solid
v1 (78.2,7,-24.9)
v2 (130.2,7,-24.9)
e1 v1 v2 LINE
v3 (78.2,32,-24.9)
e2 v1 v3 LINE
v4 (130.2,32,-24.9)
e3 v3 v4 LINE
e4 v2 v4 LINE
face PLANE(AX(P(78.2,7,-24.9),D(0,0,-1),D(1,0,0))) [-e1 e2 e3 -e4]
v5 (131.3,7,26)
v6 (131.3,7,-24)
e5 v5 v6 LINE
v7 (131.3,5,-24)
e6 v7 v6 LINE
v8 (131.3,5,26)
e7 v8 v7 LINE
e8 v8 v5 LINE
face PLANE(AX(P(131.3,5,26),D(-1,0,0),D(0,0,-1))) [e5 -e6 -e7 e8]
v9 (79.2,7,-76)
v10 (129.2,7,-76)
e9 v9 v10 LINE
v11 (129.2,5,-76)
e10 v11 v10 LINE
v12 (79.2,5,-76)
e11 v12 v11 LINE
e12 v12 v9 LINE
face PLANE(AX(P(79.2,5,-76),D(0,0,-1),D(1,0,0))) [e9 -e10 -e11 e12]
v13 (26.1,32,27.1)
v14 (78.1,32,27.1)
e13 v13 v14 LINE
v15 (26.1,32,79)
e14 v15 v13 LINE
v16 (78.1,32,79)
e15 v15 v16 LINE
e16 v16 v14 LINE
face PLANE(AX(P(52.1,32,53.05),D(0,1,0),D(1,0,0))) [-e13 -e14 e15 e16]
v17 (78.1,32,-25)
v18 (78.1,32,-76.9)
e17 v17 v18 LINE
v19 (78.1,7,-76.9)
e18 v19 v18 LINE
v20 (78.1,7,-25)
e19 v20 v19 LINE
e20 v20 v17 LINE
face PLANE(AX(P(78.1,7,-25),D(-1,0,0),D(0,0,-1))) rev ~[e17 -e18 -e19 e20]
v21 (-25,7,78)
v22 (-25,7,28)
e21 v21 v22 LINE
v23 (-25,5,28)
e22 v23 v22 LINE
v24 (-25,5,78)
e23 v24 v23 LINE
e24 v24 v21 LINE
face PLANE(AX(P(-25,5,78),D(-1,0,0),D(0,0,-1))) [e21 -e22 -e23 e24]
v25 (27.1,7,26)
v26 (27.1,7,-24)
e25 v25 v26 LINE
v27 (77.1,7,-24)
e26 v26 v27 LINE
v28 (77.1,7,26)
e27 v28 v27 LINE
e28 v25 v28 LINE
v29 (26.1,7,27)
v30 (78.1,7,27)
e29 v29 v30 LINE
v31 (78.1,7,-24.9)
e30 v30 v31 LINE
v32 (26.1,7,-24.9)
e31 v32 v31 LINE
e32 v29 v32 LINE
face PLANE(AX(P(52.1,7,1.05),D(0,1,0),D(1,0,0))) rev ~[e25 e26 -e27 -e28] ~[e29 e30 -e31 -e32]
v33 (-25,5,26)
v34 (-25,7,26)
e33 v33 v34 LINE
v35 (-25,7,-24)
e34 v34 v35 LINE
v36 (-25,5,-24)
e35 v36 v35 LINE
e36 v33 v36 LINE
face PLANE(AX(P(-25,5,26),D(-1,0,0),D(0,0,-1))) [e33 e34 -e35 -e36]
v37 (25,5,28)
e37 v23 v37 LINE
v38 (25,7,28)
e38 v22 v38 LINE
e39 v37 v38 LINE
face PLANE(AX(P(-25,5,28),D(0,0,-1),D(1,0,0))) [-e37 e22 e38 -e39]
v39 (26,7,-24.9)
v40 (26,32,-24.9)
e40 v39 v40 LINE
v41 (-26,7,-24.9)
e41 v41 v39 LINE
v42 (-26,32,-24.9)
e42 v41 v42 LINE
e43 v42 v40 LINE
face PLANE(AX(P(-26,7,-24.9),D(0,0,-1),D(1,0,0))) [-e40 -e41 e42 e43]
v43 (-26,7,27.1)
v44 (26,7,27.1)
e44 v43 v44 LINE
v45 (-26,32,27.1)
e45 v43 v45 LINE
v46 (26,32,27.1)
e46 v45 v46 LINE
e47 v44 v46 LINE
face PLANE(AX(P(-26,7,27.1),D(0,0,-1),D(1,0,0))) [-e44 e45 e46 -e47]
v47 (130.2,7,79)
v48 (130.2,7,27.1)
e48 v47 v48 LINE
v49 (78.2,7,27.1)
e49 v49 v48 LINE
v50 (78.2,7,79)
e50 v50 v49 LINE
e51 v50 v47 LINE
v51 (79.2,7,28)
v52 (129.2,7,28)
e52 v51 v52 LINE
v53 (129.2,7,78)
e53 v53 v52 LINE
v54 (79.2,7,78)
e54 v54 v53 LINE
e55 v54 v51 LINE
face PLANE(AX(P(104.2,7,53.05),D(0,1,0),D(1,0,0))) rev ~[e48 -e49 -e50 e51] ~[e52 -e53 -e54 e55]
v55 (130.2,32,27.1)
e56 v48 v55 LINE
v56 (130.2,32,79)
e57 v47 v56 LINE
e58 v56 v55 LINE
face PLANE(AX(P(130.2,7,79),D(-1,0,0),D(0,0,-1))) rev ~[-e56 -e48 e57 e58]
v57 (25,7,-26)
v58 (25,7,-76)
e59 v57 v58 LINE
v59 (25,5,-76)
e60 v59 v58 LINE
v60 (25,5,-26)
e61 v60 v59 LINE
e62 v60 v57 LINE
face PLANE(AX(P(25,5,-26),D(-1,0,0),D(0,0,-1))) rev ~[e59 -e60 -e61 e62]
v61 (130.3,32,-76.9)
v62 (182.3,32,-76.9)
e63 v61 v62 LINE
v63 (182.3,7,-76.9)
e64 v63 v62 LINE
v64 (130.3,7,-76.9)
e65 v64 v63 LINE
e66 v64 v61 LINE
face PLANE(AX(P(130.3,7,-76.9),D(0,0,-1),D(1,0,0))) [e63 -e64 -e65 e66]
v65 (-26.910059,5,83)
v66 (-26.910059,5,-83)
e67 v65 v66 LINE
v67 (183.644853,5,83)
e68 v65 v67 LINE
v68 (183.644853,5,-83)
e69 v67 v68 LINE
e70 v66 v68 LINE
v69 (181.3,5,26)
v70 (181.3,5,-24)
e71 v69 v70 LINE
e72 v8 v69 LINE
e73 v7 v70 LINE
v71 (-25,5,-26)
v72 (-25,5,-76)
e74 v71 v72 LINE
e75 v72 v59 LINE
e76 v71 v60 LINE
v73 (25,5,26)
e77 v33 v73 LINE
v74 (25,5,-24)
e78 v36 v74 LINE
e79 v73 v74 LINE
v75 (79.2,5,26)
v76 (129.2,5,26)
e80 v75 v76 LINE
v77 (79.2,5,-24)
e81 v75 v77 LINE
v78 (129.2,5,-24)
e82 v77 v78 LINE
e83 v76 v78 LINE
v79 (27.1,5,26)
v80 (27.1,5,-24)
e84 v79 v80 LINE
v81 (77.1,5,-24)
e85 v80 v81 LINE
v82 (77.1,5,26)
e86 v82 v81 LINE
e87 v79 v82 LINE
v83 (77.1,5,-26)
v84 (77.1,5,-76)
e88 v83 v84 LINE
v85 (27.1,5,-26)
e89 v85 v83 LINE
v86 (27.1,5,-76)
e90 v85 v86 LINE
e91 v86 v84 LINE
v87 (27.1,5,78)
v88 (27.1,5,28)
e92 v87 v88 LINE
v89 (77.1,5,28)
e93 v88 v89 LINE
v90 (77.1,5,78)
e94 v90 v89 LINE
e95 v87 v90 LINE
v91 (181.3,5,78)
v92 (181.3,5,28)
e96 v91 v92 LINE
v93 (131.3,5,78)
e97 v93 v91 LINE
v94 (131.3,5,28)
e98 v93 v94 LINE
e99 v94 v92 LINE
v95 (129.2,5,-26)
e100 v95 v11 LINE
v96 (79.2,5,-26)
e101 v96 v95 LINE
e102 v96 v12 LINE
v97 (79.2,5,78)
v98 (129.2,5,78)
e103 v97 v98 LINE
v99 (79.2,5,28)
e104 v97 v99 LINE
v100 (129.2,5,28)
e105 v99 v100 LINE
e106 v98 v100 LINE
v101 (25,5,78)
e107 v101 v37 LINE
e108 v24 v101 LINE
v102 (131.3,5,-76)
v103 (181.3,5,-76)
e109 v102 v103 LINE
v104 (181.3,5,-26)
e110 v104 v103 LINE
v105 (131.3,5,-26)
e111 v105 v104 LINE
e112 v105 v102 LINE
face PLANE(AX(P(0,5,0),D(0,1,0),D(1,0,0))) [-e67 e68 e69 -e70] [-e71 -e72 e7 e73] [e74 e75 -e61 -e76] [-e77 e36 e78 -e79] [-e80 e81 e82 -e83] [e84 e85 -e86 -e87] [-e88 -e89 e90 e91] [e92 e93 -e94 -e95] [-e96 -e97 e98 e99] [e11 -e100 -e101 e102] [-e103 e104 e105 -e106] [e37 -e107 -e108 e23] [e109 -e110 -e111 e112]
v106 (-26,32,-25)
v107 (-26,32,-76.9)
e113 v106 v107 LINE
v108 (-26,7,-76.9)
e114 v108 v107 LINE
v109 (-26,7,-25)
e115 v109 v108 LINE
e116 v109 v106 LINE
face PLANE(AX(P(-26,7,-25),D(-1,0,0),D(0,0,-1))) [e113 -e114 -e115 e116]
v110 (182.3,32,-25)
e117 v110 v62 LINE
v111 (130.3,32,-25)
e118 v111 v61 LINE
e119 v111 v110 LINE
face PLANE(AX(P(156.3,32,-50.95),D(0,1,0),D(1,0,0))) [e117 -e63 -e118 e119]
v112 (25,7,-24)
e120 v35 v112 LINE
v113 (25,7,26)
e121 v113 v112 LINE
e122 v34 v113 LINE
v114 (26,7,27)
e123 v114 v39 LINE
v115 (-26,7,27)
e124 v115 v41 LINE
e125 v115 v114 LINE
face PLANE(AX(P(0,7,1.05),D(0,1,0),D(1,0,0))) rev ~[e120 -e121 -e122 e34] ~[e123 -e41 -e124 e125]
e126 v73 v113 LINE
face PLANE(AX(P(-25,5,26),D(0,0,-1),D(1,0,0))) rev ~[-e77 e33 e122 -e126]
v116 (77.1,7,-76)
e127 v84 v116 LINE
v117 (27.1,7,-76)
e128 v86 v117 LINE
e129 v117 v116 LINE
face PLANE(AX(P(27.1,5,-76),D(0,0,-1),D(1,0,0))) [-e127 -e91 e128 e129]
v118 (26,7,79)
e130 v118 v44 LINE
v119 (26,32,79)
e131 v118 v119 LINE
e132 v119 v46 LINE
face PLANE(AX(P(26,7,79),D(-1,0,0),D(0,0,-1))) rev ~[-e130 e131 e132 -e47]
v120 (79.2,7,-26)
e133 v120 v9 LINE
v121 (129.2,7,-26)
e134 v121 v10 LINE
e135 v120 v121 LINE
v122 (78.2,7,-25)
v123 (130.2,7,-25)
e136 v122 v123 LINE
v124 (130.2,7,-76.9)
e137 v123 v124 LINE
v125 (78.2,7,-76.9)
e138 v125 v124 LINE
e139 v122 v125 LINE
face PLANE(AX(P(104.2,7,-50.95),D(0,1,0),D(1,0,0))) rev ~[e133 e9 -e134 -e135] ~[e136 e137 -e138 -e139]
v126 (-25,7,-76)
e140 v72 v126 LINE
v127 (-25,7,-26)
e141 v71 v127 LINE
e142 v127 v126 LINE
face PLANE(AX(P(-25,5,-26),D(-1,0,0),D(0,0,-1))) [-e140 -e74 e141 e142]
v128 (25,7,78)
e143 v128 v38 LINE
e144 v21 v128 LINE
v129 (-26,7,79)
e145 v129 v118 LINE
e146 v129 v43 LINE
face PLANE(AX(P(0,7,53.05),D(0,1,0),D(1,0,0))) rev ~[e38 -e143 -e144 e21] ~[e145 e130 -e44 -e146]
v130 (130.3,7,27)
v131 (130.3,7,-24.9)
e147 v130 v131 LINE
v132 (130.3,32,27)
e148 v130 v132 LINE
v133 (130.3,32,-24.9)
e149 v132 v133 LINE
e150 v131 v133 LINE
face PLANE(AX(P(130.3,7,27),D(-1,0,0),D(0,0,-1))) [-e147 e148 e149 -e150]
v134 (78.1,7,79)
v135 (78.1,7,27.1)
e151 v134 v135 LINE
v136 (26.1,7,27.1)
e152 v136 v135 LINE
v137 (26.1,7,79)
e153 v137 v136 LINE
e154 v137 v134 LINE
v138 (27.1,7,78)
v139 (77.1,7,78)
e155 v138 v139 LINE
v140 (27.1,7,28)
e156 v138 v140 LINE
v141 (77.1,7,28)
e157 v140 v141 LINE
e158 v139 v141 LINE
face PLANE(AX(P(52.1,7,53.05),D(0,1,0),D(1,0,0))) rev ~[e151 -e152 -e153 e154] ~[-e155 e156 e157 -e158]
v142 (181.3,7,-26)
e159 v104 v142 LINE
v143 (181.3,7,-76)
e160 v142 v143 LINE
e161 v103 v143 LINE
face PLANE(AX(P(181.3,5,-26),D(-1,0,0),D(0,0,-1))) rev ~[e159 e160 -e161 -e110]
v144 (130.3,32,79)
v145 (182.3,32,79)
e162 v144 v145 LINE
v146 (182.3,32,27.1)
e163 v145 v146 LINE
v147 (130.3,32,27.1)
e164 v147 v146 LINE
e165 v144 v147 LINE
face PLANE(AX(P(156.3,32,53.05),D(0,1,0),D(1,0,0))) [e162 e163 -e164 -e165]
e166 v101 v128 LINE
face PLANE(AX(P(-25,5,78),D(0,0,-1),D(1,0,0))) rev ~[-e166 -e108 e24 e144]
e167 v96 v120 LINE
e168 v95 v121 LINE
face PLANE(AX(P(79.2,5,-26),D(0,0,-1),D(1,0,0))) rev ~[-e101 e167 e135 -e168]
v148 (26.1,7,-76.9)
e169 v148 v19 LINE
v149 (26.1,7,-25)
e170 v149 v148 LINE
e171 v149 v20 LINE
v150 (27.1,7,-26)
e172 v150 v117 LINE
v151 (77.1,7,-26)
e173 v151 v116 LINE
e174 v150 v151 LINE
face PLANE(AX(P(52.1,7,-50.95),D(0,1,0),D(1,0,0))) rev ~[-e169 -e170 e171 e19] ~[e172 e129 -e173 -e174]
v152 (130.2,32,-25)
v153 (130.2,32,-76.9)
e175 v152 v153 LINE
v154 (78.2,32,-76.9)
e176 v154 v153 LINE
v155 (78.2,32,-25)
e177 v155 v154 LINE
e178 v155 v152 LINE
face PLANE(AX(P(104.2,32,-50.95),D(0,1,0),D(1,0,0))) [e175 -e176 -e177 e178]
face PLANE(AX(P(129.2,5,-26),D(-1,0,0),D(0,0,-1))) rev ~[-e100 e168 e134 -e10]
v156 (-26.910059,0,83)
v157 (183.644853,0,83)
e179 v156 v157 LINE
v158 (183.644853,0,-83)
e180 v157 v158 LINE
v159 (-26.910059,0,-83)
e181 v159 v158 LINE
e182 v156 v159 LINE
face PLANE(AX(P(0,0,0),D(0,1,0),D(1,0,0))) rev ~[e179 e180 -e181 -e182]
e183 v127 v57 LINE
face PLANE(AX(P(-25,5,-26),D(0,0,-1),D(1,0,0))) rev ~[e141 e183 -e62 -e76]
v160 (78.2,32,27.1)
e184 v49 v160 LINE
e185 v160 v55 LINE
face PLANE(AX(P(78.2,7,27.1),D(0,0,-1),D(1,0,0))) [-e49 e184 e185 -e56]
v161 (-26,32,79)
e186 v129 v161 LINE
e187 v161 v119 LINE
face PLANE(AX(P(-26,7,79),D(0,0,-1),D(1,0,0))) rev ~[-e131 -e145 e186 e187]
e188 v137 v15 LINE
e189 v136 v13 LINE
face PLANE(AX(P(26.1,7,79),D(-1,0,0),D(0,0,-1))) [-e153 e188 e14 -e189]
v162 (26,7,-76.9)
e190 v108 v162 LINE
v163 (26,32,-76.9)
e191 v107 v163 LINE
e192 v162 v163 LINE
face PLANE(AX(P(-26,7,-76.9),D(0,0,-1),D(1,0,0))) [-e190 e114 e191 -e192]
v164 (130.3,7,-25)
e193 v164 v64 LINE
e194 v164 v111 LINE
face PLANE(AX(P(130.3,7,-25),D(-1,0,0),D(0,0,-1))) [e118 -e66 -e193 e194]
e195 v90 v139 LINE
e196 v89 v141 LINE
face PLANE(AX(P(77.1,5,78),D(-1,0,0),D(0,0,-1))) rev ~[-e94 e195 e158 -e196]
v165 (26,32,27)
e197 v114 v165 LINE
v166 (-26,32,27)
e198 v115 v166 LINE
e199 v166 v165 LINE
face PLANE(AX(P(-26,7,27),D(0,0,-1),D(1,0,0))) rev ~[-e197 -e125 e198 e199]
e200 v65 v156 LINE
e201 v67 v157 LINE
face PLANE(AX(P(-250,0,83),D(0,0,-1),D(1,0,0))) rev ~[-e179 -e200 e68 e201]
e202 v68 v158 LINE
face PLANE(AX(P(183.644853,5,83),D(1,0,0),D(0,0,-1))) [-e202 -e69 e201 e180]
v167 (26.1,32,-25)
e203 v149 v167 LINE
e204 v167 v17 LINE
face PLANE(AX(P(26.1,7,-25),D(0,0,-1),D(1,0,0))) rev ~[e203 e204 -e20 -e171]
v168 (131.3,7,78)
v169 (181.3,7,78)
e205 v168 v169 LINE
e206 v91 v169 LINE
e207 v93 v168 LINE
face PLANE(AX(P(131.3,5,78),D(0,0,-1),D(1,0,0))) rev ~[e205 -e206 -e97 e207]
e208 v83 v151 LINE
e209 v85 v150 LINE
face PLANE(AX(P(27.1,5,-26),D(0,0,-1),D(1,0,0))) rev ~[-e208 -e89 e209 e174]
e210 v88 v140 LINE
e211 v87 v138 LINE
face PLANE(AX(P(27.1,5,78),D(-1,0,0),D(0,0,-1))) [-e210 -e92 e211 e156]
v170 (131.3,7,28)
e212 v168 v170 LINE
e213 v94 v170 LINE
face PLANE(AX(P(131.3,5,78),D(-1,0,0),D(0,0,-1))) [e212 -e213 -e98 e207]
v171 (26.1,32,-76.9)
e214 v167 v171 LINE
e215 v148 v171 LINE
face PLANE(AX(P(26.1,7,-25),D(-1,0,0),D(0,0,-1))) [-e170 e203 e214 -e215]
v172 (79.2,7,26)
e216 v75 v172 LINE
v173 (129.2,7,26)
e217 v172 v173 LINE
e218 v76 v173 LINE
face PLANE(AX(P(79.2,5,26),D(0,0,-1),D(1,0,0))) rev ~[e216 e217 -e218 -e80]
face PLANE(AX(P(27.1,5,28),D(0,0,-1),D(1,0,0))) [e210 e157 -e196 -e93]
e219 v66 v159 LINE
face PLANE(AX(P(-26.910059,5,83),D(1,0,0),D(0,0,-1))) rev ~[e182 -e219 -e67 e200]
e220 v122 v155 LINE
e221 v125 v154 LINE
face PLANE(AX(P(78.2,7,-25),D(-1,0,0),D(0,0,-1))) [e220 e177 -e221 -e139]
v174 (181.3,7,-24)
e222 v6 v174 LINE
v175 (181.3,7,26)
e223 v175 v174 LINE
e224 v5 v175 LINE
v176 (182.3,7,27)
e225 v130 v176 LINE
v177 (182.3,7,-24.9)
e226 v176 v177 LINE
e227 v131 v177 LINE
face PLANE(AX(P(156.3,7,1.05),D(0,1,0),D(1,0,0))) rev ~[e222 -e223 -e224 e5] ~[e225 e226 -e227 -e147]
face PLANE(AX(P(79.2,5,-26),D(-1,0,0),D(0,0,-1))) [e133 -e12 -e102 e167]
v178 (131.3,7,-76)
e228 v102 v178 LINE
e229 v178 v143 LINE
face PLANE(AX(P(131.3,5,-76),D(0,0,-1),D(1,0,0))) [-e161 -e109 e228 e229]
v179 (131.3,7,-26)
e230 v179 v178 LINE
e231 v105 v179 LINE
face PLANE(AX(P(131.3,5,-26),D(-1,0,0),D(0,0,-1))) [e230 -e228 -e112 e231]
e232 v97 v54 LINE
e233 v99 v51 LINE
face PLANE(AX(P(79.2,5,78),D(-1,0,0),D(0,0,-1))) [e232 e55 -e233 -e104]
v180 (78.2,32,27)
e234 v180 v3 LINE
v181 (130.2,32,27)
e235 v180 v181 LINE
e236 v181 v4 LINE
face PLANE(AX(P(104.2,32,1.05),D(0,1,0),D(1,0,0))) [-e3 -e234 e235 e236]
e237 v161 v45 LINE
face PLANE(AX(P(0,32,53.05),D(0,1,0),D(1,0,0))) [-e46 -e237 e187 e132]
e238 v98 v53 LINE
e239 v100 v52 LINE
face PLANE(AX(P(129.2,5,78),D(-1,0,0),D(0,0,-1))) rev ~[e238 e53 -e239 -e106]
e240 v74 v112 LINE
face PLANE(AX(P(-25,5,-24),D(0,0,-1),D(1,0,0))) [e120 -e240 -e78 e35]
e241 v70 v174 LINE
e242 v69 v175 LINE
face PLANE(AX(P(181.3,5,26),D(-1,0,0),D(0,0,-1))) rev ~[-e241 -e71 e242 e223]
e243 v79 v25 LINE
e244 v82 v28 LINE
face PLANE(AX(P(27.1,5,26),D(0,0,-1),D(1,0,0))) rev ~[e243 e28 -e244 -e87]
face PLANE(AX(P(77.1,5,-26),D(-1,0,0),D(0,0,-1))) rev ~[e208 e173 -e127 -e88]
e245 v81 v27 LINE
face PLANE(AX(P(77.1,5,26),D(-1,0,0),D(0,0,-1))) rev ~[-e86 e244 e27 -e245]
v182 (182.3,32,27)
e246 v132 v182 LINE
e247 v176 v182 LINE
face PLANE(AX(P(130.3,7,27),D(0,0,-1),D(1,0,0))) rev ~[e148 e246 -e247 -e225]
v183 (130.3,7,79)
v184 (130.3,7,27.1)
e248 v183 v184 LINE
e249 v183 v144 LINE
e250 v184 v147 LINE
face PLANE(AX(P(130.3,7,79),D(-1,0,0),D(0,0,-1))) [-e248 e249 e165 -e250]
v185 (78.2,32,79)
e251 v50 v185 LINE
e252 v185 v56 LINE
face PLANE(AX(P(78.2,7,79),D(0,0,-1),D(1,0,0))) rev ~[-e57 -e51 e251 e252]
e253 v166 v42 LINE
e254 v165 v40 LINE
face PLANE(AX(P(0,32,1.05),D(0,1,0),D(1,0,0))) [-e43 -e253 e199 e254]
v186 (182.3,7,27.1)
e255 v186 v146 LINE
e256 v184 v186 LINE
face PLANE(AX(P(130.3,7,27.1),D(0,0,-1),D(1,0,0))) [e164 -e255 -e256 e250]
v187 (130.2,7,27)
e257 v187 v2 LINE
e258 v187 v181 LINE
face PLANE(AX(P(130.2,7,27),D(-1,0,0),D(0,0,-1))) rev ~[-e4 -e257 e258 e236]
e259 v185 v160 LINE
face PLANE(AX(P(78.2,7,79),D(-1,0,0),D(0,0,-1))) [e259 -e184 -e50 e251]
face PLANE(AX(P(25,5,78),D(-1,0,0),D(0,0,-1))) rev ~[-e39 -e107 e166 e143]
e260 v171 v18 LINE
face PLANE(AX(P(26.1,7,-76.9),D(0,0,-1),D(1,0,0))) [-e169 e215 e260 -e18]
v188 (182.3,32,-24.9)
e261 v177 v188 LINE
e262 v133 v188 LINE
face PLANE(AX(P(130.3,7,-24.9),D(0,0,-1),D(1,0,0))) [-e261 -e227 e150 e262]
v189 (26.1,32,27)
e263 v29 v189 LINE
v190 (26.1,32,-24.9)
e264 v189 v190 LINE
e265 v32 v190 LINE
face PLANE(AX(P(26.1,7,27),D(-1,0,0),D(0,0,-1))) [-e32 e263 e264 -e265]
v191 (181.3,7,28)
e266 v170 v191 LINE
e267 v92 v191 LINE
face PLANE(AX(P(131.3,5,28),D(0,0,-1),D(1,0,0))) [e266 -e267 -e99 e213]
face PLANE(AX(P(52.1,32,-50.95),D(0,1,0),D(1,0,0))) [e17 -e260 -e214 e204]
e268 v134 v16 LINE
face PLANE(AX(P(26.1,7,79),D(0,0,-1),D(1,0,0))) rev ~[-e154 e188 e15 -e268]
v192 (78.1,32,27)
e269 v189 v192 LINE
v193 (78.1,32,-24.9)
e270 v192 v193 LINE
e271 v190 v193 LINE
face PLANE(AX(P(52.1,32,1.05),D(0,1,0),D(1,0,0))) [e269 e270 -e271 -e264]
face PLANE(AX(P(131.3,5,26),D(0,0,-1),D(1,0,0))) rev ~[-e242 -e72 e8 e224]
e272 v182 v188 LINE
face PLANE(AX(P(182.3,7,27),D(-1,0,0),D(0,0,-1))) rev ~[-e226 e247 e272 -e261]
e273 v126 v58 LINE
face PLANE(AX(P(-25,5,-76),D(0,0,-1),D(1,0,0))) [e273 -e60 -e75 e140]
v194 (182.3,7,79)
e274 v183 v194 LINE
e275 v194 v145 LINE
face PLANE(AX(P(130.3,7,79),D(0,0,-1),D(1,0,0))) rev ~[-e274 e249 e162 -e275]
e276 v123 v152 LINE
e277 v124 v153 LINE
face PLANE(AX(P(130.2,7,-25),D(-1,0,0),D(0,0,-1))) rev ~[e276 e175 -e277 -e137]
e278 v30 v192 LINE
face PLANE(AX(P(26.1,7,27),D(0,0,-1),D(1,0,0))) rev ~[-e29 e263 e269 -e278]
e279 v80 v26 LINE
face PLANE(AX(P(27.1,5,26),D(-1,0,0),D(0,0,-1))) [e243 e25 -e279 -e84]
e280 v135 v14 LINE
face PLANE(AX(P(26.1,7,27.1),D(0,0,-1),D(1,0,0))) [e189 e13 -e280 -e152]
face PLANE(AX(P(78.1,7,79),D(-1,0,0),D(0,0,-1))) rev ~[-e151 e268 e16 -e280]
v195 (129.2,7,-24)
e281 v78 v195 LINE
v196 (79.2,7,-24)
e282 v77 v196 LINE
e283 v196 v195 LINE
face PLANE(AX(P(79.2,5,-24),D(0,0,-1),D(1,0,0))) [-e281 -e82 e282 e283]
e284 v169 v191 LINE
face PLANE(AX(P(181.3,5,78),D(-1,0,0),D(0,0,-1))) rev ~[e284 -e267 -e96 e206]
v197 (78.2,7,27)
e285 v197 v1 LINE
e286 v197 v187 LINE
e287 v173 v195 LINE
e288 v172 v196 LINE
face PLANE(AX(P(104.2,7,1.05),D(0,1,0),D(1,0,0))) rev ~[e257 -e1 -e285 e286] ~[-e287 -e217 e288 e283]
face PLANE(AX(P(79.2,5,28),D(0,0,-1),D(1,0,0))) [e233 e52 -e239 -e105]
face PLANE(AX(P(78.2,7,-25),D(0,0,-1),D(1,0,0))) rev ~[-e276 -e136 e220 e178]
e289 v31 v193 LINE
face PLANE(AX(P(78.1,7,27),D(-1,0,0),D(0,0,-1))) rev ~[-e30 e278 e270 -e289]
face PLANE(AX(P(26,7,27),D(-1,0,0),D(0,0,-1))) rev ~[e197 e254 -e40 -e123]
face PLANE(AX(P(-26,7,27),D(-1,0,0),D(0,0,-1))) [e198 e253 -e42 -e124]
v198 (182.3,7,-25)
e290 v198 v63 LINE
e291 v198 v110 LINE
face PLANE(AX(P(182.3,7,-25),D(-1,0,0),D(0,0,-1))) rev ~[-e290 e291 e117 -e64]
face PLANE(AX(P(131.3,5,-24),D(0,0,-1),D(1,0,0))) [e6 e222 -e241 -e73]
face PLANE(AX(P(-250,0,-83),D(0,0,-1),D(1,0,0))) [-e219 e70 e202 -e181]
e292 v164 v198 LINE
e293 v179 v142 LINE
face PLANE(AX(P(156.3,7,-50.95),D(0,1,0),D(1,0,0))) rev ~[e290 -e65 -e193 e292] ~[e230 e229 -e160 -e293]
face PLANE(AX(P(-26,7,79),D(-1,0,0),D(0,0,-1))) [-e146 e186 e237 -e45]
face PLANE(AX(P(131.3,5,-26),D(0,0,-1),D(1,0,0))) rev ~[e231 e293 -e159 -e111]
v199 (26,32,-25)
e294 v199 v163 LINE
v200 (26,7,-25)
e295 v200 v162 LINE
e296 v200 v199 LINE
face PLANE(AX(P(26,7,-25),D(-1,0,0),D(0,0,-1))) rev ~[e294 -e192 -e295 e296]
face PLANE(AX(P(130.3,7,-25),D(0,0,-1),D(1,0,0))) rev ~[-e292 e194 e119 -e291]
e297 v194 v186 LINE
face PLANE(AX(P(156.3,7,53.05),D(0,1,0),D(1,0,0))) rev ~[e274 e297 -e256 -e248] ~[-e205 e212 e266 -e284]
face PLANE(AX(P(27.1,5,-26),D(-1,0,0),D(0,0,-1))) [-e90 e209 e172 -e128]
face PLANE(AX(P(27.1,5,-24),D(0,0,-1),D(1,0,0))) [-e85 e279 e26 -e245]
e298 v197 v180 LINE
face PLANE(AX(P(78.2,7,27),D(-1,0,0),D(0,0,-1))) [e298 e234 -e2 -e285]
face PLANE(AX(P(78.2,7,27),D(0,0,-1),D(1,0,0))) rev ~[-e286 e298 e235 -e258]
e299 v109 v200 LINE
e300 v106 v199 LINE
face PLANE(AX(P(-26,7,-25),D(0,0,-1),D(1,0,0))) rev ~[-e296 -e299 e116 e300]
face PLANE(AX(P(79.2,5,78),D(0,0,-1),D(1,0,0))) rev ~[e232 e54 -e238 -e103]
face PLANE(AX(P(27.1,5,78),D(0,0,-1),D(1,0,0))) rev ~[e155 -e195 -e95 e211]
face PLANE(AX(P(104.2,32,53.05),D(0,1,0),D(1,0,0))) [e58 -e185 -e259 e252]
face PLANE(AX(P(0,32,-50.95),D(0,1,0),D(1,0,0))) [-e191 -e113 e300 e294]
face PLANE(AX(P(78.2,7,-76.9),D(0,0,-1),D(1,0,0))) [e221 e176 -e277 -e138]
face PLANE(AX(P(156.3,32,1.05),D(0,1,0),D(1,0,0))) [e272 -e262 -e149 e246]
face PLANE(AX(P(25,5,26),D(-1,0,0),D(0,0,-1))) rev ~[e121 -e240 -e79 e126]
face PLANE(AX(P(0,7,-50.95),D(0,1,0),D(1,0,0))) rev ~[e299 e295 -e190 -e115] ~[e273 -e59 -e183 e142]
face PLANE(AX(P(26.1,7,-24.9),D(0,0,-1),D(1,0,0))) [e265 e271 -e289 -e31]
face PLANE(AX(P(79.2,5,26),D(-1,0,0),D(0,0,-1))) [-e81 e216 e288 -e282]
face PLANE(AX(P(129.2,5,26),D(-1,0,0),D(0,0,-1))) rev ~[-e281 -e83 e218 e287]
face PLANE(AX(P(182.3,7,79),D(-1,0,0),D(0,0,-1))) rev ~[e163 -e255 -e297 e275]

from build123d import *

# Parameters (mm, degrees)
SKETCH1_W                  = 500
SKETCH1_H                  = 166
BOSS_EXTRUDE1_DEPTH        = 5
SKETCH2_W                  = 50
SKETCH2_H                  = 50
BOSS_EXTRUDE3_DEPTH        = 2
LPATTERN1_COUNT            = 3
LPATTERN1_PITCH            = 52
SKETCH3_W                  = 52
SKETCH3_H                  = 51.9
BOSS_EXTRUDE8_DEPTH        = 25
LPATTERN5_COUNT            = 3
LPATTERN5_PITCH            = 52
LPATTERN6_COUNT            = 4
LPATTERN6_PITCH            = 52.1
LPATTERN6_COPY_1_SKETCH_W  = 50
LPATTERN6_COPY_1_SKETCH_H  = 50
LPATTERN6_COPY_1_DEPTH     = 2
LPATTERN6_COPY_2_SKETCH_W  = 50
LPATTERN6_COPY_2_SKETCH_H  = 50
LPATTERN6_COPY_2_DEPTH     = 2
LPATTERN6_COPY_3_SKETCH_W  = 50
LPATTERN6_COPY_3_SKETCH_H  = 50
LPATTERN6_COPY_3_DEPTH     = 2
LPATTERN6_COPY_4_SKETCH_W  = 50
LPATTERN6_COPY_4_SKETCH_H  = 50
LPATTERN6_COPY_4_DEPTH     = 2
LPATTERN6_COPY_5_SKETCH_W  = 50
LPATTERN6_COPY_5_SKETCH_H  = 50
LPATTERN6_COPY_5_DEPTH     = 2
LPATTERN6_COPY_6_SKETCH_W  = 50
LPATTERN6_COPY_6_SKETCH_H  = 50
LPATTERN6_COPY_6_DEPTH     = 2
LPATTERN6_COPY_7_SKETCH_W  = 52
LPATTERN6_COPY_7_SKETCH_H  = 51.9
LPATTERN6_COPY_7_DEPTH     = 25
LPATTERN6_COPY_8_SKETCH_W  = 52
LPATTERN6_COPY_8_SKETCH_H  = 51.9
LPATTERN6_COPY_8_DEPTH     = 25
LPATTERN6_COPY_9_SKETCH_W  = 52
LPATTERN6_COPY_9_SKETCH_H  = 51.9
LPATTERN6_COPY_9_DEPTH     = 25
LPATTERN6_COPY_10_SKETCH_W = 52
LPATTERN6_COPY_10_SKETCH_H = 51.9
LPATTERN6_COPY_10_DEPTH    = 25
LPATTERN6_COPY_11_SKETCH_W = 52
LPATTERN6_COPY_11_SKETCH_H = 51.9
LPATTERN6_COPY_11_DEPTH    = 25
LPATTERN6_COPY_12_SKETCH_W = 52
LPATTERN6_COPY_12_SKETCH_H = 51.9
LPATTERN6_COPY_12_DEPTH    = 25
SKETCH4_W                  = 223.089941366
SKETCH4_H                  = 166
SKETCH4_W_2                = 66.355147464
CUT_EXTRUDE1_DEPTH         = 10


with BuildPart() as part:
    # Sketch1 → Boss-Extrude1 (new body)
    with BuildSketch(Plane(origin=(0, 0, 0), x_dir=(1, 0, 0), z_dir=(0, 1, 0))):
        Rectangle(SKETCH1_W, SKETCH1_H)
    extrude(amount=BOSS_EXTRUDE1_DEPTH)

    # Sketch2 → Boss-Extrude3 (add)
    with BuildSketch(Plane(origin=(0, 5, 0), x_dir=(1, 0, 0), z_dir=(0, 1, 0))):
        with Locations((0, -53)):
            Rectangle(SKETCH2_W, SKETCH2_H)
    boss_extrude3 = extrude(amount=BOSS_EXTRUDE3_DEPTH)

    # LPattern1: Boss-Extrude3 ×3
    with Locations(*[(0, 0, -i * LPATTERN1_PITCH) for i in range(1, LPATTERN1_COUNT)]):
        add(boss_extrude3)

    # Sketch3 → Boss-Extrude8 (add)
    with BuildSketch(Plane(origin=(0, 7, 0), x_dir=(1, 0, 0), z_dir=(0, 1, 0))):
        with Locations((0, -53.05)):
            Rectangle(SKETCH3_W, SKETCH3_H)
    boss_extrude8 = extrude(amount=BOSS_EXTRUDE8_DEPTH)

    # LPattern5: Boss-Extrude8 ×3
    with Locations(*[(0, 0, -i * LPATTERN5_PITCH) for i in range(1, LPATTERN5_COUNT)]):
        add(boss_extrude8)

    # LPattern6: Boss-Extrude3, Boss-Extrude8 ×4
    with Locations(*[(i * LPATTERN6_PITCH, 0, 0) for i in range(1, LPATTERN6_COUNT)]):
        add(boss_extrude3)
        add(boss_extrude8)

    # LPattern6 copy 1 sketch → LPattern6 copy 1 (add)
    with BuildSketch(Plane(origin=(52.1, 5, -52), x_dir=(1, 0, 0), z_dir=(0, 1, 0))):
        with Locations((0, -53)):
            Rectangle(LPATTERN6_COPY_1_SKETCH_W, LPATTERN6_COPY_1_SKETCH_H)
    extrude(amount=LPATTERN6_COPY_1_DEPTH)

    # LPattern6 copy 2 sketch → LPattern6 copy 2 (add)
    with BuildSketch(Plane(origin=(104.2, 5, -52), x_dir=(1, 0, 0), z_dir=(0, 1, 0))):
        with Locations((0, -53)):
            Rectangle(LPATTERN6_COPY_2_SKETCH_W, LPATTERN6_COPY_2_SKETCH_H)
    extrude(amount=LPATTERN6_COPY_2_DEPTH)

    # LPattern6 copy 3 sketch → LPattern6 copy 3 (add)
    with BuildSketch(Plane(origin=(156.3, 5, -52), x_dir=(1, 0, 0), z_dir=(0, 1, 0))):
        with Locations((0, -53)):
            Rectangle(LPATTERN6_COPY_3_SKETCH_W, LPATTERN6_COPY_3_SKETCH_H)
    extrude(amount=LPATTERN6_COPY_3_DEPTH)

    # LPattern6 copy 4 sketch → LPattern6 copy 4 (add)
    with BuildSketch(Plane(origin=(52.1, 5, -104), x_dir=(1, 0, 0), z_dir=(0, 1, 0))):
        with Locations((0, -53)):
            Rectangle(LPATTERN6_COPY_4_SKETCH_W, LPATTERN6_COPY_4_SKETCH_H)
    extrude(amount=LPATTERN6_COPY_4_DEPTH)

    # LPattern6 copy 5 sketch → LPattern6 copy 5 (add)
    with BuildSketch(Plane(origin=(104.2, 5, -104), x_dir=(1, 0, 0), z_dir=(0, 1, 0))):
        with Locations((0, -53)):
            Rectangle(LPATTERN6_COPY_5_SKETCH_W, LPATTERN6_COPY_5_SKETCH_H)
    extrude(amount=LPATTERN6_COPY_5_DEPTH)

    # LPattern6 copy 6 sketch → LPattern6 copy 6 (add)
    with BuildSketch(Plane(origin=(156.3, 5, -104), x_dir=(1, 0, 0), z_dir=(0, 1, 0))):
        with Locations((0, -53)):
            Rectangle(LPATTERN6_COPY_6_SKETCH_W, LPATTERN6_COPY_6_SKETCH_H)
    extrude(amount=LPATTERN6_COPY_6_DEPTH)

    # LPattern6 copy 7 sketch → LPattern6 copy 7 (add)
    with BuildSketch(Plane(origin=(52.1, 7, -52), x_dir=(1, 0, 0), z_dir=(0, 1, 0))):
        with Locations((0, -53.05)):
            Rectangle(LPATTERN6_COPY_7_SKETCH_W, LPATTERN6_COPY_7_SKETCH_H)
    extrude(amount=LPATTERN6_COPY_7_DEPTH)

    # LPattern6 copy 8 sketch → LPattern6 copy 8 (add)
    with BuildSketch(Plane(origin=(104.2, 7, -52), x_dir=(1, 0, 0), z_dir=(0, 1, 0))):
        with Locations((0, -53.05)):
            Rectangle(LPATTERN6_COPY_8_SKETCH_W, LPATTERN6_COPY_8_SKETCH_H)
    extrude(amount=LPATTERN6_COPY_8_DEPTH)

    # LPattern6 copy 9 sketch → LPattern6 copy 9 (add)
    with BuildSketch(Plane(origin=(156.3, 7, -52), x_dir=(1, 0, 0), z_dir=(0, 1, 0))):
        with Locations((0, -53.05)):
            Rectangle(LPATTERN6_COPY_9_SKETCH_W, LPATTERN6_COPY_9_SKETCH_H)
    extrude(amount=LPATTERN6_COPY_9_DEPTH)

    # LPattern6 copy 10 sketch → LPattern6 copy 10 (add)
    with BuildSketch(Plane(origin=(52.1, 7, -104), x_dir=(1, 0, 0), z_dir=(0, 1, 0))):
        with Locations((0, -53.05)):
            Rectangle(LPATTERN6_COPY_10_SKETCH_W, LPATTERN6_COPY_10_SKETCH_H)
    extrude(amount=LPATTERN6_COPY_10_DEPTH)

    # LPattern6 copy 11 sketch → LPattern6 copy 11 (add)
    with BuildSketch(Plane(origin=(104.2, 7, -104), x_dir=(1, 0, 0), z_dir=(0, 1, 0))):
        with Locations((0, -53.05)):
            Rectangle(LPATTERN6_COPY_11_SKETCH_W, LPATTERN6_COPY_11_SKETCH_H)
    extrude(amount=LPATTERN6_COPY_11_DEPTH)

    # LPattern6 copy 12 sketch → LPattern6 copy 12 (add)
    with BuildSketch(Plane(origin=(156.3, 7, -104), x_dir=(1, 0, 0), z_dir=(0, 1, 0))):
        with Locations((0, -53.05)):
            Rectangle(LPATTERN6_COPY_12_SKETCH_W, LPATTERN6_COPY_12_SKETCH_H)
    extrude(amount=LPATTERN6_COPY_12_DEPTH)

    # Sketch4 → Cut-Extrude1 (cut)
    with BuildSketch(Plane(origin=(0, 5, 0), x_dir=(1, 0, 0), z_dir=(0, 1, 0))):
        with Locations((-138.455029317, 0)):
            Rectangle(SKETCH4_W, SKETCH4_H)
        with Locations((216.822426268, 0)):
            Rectangle(SKETCH4_W_2, SKETCH4_H)
    extrude(amount=-CUT_EXTRUDE1_DEPTH, mode=Mode.SUBTRACT)


solid = part.part
